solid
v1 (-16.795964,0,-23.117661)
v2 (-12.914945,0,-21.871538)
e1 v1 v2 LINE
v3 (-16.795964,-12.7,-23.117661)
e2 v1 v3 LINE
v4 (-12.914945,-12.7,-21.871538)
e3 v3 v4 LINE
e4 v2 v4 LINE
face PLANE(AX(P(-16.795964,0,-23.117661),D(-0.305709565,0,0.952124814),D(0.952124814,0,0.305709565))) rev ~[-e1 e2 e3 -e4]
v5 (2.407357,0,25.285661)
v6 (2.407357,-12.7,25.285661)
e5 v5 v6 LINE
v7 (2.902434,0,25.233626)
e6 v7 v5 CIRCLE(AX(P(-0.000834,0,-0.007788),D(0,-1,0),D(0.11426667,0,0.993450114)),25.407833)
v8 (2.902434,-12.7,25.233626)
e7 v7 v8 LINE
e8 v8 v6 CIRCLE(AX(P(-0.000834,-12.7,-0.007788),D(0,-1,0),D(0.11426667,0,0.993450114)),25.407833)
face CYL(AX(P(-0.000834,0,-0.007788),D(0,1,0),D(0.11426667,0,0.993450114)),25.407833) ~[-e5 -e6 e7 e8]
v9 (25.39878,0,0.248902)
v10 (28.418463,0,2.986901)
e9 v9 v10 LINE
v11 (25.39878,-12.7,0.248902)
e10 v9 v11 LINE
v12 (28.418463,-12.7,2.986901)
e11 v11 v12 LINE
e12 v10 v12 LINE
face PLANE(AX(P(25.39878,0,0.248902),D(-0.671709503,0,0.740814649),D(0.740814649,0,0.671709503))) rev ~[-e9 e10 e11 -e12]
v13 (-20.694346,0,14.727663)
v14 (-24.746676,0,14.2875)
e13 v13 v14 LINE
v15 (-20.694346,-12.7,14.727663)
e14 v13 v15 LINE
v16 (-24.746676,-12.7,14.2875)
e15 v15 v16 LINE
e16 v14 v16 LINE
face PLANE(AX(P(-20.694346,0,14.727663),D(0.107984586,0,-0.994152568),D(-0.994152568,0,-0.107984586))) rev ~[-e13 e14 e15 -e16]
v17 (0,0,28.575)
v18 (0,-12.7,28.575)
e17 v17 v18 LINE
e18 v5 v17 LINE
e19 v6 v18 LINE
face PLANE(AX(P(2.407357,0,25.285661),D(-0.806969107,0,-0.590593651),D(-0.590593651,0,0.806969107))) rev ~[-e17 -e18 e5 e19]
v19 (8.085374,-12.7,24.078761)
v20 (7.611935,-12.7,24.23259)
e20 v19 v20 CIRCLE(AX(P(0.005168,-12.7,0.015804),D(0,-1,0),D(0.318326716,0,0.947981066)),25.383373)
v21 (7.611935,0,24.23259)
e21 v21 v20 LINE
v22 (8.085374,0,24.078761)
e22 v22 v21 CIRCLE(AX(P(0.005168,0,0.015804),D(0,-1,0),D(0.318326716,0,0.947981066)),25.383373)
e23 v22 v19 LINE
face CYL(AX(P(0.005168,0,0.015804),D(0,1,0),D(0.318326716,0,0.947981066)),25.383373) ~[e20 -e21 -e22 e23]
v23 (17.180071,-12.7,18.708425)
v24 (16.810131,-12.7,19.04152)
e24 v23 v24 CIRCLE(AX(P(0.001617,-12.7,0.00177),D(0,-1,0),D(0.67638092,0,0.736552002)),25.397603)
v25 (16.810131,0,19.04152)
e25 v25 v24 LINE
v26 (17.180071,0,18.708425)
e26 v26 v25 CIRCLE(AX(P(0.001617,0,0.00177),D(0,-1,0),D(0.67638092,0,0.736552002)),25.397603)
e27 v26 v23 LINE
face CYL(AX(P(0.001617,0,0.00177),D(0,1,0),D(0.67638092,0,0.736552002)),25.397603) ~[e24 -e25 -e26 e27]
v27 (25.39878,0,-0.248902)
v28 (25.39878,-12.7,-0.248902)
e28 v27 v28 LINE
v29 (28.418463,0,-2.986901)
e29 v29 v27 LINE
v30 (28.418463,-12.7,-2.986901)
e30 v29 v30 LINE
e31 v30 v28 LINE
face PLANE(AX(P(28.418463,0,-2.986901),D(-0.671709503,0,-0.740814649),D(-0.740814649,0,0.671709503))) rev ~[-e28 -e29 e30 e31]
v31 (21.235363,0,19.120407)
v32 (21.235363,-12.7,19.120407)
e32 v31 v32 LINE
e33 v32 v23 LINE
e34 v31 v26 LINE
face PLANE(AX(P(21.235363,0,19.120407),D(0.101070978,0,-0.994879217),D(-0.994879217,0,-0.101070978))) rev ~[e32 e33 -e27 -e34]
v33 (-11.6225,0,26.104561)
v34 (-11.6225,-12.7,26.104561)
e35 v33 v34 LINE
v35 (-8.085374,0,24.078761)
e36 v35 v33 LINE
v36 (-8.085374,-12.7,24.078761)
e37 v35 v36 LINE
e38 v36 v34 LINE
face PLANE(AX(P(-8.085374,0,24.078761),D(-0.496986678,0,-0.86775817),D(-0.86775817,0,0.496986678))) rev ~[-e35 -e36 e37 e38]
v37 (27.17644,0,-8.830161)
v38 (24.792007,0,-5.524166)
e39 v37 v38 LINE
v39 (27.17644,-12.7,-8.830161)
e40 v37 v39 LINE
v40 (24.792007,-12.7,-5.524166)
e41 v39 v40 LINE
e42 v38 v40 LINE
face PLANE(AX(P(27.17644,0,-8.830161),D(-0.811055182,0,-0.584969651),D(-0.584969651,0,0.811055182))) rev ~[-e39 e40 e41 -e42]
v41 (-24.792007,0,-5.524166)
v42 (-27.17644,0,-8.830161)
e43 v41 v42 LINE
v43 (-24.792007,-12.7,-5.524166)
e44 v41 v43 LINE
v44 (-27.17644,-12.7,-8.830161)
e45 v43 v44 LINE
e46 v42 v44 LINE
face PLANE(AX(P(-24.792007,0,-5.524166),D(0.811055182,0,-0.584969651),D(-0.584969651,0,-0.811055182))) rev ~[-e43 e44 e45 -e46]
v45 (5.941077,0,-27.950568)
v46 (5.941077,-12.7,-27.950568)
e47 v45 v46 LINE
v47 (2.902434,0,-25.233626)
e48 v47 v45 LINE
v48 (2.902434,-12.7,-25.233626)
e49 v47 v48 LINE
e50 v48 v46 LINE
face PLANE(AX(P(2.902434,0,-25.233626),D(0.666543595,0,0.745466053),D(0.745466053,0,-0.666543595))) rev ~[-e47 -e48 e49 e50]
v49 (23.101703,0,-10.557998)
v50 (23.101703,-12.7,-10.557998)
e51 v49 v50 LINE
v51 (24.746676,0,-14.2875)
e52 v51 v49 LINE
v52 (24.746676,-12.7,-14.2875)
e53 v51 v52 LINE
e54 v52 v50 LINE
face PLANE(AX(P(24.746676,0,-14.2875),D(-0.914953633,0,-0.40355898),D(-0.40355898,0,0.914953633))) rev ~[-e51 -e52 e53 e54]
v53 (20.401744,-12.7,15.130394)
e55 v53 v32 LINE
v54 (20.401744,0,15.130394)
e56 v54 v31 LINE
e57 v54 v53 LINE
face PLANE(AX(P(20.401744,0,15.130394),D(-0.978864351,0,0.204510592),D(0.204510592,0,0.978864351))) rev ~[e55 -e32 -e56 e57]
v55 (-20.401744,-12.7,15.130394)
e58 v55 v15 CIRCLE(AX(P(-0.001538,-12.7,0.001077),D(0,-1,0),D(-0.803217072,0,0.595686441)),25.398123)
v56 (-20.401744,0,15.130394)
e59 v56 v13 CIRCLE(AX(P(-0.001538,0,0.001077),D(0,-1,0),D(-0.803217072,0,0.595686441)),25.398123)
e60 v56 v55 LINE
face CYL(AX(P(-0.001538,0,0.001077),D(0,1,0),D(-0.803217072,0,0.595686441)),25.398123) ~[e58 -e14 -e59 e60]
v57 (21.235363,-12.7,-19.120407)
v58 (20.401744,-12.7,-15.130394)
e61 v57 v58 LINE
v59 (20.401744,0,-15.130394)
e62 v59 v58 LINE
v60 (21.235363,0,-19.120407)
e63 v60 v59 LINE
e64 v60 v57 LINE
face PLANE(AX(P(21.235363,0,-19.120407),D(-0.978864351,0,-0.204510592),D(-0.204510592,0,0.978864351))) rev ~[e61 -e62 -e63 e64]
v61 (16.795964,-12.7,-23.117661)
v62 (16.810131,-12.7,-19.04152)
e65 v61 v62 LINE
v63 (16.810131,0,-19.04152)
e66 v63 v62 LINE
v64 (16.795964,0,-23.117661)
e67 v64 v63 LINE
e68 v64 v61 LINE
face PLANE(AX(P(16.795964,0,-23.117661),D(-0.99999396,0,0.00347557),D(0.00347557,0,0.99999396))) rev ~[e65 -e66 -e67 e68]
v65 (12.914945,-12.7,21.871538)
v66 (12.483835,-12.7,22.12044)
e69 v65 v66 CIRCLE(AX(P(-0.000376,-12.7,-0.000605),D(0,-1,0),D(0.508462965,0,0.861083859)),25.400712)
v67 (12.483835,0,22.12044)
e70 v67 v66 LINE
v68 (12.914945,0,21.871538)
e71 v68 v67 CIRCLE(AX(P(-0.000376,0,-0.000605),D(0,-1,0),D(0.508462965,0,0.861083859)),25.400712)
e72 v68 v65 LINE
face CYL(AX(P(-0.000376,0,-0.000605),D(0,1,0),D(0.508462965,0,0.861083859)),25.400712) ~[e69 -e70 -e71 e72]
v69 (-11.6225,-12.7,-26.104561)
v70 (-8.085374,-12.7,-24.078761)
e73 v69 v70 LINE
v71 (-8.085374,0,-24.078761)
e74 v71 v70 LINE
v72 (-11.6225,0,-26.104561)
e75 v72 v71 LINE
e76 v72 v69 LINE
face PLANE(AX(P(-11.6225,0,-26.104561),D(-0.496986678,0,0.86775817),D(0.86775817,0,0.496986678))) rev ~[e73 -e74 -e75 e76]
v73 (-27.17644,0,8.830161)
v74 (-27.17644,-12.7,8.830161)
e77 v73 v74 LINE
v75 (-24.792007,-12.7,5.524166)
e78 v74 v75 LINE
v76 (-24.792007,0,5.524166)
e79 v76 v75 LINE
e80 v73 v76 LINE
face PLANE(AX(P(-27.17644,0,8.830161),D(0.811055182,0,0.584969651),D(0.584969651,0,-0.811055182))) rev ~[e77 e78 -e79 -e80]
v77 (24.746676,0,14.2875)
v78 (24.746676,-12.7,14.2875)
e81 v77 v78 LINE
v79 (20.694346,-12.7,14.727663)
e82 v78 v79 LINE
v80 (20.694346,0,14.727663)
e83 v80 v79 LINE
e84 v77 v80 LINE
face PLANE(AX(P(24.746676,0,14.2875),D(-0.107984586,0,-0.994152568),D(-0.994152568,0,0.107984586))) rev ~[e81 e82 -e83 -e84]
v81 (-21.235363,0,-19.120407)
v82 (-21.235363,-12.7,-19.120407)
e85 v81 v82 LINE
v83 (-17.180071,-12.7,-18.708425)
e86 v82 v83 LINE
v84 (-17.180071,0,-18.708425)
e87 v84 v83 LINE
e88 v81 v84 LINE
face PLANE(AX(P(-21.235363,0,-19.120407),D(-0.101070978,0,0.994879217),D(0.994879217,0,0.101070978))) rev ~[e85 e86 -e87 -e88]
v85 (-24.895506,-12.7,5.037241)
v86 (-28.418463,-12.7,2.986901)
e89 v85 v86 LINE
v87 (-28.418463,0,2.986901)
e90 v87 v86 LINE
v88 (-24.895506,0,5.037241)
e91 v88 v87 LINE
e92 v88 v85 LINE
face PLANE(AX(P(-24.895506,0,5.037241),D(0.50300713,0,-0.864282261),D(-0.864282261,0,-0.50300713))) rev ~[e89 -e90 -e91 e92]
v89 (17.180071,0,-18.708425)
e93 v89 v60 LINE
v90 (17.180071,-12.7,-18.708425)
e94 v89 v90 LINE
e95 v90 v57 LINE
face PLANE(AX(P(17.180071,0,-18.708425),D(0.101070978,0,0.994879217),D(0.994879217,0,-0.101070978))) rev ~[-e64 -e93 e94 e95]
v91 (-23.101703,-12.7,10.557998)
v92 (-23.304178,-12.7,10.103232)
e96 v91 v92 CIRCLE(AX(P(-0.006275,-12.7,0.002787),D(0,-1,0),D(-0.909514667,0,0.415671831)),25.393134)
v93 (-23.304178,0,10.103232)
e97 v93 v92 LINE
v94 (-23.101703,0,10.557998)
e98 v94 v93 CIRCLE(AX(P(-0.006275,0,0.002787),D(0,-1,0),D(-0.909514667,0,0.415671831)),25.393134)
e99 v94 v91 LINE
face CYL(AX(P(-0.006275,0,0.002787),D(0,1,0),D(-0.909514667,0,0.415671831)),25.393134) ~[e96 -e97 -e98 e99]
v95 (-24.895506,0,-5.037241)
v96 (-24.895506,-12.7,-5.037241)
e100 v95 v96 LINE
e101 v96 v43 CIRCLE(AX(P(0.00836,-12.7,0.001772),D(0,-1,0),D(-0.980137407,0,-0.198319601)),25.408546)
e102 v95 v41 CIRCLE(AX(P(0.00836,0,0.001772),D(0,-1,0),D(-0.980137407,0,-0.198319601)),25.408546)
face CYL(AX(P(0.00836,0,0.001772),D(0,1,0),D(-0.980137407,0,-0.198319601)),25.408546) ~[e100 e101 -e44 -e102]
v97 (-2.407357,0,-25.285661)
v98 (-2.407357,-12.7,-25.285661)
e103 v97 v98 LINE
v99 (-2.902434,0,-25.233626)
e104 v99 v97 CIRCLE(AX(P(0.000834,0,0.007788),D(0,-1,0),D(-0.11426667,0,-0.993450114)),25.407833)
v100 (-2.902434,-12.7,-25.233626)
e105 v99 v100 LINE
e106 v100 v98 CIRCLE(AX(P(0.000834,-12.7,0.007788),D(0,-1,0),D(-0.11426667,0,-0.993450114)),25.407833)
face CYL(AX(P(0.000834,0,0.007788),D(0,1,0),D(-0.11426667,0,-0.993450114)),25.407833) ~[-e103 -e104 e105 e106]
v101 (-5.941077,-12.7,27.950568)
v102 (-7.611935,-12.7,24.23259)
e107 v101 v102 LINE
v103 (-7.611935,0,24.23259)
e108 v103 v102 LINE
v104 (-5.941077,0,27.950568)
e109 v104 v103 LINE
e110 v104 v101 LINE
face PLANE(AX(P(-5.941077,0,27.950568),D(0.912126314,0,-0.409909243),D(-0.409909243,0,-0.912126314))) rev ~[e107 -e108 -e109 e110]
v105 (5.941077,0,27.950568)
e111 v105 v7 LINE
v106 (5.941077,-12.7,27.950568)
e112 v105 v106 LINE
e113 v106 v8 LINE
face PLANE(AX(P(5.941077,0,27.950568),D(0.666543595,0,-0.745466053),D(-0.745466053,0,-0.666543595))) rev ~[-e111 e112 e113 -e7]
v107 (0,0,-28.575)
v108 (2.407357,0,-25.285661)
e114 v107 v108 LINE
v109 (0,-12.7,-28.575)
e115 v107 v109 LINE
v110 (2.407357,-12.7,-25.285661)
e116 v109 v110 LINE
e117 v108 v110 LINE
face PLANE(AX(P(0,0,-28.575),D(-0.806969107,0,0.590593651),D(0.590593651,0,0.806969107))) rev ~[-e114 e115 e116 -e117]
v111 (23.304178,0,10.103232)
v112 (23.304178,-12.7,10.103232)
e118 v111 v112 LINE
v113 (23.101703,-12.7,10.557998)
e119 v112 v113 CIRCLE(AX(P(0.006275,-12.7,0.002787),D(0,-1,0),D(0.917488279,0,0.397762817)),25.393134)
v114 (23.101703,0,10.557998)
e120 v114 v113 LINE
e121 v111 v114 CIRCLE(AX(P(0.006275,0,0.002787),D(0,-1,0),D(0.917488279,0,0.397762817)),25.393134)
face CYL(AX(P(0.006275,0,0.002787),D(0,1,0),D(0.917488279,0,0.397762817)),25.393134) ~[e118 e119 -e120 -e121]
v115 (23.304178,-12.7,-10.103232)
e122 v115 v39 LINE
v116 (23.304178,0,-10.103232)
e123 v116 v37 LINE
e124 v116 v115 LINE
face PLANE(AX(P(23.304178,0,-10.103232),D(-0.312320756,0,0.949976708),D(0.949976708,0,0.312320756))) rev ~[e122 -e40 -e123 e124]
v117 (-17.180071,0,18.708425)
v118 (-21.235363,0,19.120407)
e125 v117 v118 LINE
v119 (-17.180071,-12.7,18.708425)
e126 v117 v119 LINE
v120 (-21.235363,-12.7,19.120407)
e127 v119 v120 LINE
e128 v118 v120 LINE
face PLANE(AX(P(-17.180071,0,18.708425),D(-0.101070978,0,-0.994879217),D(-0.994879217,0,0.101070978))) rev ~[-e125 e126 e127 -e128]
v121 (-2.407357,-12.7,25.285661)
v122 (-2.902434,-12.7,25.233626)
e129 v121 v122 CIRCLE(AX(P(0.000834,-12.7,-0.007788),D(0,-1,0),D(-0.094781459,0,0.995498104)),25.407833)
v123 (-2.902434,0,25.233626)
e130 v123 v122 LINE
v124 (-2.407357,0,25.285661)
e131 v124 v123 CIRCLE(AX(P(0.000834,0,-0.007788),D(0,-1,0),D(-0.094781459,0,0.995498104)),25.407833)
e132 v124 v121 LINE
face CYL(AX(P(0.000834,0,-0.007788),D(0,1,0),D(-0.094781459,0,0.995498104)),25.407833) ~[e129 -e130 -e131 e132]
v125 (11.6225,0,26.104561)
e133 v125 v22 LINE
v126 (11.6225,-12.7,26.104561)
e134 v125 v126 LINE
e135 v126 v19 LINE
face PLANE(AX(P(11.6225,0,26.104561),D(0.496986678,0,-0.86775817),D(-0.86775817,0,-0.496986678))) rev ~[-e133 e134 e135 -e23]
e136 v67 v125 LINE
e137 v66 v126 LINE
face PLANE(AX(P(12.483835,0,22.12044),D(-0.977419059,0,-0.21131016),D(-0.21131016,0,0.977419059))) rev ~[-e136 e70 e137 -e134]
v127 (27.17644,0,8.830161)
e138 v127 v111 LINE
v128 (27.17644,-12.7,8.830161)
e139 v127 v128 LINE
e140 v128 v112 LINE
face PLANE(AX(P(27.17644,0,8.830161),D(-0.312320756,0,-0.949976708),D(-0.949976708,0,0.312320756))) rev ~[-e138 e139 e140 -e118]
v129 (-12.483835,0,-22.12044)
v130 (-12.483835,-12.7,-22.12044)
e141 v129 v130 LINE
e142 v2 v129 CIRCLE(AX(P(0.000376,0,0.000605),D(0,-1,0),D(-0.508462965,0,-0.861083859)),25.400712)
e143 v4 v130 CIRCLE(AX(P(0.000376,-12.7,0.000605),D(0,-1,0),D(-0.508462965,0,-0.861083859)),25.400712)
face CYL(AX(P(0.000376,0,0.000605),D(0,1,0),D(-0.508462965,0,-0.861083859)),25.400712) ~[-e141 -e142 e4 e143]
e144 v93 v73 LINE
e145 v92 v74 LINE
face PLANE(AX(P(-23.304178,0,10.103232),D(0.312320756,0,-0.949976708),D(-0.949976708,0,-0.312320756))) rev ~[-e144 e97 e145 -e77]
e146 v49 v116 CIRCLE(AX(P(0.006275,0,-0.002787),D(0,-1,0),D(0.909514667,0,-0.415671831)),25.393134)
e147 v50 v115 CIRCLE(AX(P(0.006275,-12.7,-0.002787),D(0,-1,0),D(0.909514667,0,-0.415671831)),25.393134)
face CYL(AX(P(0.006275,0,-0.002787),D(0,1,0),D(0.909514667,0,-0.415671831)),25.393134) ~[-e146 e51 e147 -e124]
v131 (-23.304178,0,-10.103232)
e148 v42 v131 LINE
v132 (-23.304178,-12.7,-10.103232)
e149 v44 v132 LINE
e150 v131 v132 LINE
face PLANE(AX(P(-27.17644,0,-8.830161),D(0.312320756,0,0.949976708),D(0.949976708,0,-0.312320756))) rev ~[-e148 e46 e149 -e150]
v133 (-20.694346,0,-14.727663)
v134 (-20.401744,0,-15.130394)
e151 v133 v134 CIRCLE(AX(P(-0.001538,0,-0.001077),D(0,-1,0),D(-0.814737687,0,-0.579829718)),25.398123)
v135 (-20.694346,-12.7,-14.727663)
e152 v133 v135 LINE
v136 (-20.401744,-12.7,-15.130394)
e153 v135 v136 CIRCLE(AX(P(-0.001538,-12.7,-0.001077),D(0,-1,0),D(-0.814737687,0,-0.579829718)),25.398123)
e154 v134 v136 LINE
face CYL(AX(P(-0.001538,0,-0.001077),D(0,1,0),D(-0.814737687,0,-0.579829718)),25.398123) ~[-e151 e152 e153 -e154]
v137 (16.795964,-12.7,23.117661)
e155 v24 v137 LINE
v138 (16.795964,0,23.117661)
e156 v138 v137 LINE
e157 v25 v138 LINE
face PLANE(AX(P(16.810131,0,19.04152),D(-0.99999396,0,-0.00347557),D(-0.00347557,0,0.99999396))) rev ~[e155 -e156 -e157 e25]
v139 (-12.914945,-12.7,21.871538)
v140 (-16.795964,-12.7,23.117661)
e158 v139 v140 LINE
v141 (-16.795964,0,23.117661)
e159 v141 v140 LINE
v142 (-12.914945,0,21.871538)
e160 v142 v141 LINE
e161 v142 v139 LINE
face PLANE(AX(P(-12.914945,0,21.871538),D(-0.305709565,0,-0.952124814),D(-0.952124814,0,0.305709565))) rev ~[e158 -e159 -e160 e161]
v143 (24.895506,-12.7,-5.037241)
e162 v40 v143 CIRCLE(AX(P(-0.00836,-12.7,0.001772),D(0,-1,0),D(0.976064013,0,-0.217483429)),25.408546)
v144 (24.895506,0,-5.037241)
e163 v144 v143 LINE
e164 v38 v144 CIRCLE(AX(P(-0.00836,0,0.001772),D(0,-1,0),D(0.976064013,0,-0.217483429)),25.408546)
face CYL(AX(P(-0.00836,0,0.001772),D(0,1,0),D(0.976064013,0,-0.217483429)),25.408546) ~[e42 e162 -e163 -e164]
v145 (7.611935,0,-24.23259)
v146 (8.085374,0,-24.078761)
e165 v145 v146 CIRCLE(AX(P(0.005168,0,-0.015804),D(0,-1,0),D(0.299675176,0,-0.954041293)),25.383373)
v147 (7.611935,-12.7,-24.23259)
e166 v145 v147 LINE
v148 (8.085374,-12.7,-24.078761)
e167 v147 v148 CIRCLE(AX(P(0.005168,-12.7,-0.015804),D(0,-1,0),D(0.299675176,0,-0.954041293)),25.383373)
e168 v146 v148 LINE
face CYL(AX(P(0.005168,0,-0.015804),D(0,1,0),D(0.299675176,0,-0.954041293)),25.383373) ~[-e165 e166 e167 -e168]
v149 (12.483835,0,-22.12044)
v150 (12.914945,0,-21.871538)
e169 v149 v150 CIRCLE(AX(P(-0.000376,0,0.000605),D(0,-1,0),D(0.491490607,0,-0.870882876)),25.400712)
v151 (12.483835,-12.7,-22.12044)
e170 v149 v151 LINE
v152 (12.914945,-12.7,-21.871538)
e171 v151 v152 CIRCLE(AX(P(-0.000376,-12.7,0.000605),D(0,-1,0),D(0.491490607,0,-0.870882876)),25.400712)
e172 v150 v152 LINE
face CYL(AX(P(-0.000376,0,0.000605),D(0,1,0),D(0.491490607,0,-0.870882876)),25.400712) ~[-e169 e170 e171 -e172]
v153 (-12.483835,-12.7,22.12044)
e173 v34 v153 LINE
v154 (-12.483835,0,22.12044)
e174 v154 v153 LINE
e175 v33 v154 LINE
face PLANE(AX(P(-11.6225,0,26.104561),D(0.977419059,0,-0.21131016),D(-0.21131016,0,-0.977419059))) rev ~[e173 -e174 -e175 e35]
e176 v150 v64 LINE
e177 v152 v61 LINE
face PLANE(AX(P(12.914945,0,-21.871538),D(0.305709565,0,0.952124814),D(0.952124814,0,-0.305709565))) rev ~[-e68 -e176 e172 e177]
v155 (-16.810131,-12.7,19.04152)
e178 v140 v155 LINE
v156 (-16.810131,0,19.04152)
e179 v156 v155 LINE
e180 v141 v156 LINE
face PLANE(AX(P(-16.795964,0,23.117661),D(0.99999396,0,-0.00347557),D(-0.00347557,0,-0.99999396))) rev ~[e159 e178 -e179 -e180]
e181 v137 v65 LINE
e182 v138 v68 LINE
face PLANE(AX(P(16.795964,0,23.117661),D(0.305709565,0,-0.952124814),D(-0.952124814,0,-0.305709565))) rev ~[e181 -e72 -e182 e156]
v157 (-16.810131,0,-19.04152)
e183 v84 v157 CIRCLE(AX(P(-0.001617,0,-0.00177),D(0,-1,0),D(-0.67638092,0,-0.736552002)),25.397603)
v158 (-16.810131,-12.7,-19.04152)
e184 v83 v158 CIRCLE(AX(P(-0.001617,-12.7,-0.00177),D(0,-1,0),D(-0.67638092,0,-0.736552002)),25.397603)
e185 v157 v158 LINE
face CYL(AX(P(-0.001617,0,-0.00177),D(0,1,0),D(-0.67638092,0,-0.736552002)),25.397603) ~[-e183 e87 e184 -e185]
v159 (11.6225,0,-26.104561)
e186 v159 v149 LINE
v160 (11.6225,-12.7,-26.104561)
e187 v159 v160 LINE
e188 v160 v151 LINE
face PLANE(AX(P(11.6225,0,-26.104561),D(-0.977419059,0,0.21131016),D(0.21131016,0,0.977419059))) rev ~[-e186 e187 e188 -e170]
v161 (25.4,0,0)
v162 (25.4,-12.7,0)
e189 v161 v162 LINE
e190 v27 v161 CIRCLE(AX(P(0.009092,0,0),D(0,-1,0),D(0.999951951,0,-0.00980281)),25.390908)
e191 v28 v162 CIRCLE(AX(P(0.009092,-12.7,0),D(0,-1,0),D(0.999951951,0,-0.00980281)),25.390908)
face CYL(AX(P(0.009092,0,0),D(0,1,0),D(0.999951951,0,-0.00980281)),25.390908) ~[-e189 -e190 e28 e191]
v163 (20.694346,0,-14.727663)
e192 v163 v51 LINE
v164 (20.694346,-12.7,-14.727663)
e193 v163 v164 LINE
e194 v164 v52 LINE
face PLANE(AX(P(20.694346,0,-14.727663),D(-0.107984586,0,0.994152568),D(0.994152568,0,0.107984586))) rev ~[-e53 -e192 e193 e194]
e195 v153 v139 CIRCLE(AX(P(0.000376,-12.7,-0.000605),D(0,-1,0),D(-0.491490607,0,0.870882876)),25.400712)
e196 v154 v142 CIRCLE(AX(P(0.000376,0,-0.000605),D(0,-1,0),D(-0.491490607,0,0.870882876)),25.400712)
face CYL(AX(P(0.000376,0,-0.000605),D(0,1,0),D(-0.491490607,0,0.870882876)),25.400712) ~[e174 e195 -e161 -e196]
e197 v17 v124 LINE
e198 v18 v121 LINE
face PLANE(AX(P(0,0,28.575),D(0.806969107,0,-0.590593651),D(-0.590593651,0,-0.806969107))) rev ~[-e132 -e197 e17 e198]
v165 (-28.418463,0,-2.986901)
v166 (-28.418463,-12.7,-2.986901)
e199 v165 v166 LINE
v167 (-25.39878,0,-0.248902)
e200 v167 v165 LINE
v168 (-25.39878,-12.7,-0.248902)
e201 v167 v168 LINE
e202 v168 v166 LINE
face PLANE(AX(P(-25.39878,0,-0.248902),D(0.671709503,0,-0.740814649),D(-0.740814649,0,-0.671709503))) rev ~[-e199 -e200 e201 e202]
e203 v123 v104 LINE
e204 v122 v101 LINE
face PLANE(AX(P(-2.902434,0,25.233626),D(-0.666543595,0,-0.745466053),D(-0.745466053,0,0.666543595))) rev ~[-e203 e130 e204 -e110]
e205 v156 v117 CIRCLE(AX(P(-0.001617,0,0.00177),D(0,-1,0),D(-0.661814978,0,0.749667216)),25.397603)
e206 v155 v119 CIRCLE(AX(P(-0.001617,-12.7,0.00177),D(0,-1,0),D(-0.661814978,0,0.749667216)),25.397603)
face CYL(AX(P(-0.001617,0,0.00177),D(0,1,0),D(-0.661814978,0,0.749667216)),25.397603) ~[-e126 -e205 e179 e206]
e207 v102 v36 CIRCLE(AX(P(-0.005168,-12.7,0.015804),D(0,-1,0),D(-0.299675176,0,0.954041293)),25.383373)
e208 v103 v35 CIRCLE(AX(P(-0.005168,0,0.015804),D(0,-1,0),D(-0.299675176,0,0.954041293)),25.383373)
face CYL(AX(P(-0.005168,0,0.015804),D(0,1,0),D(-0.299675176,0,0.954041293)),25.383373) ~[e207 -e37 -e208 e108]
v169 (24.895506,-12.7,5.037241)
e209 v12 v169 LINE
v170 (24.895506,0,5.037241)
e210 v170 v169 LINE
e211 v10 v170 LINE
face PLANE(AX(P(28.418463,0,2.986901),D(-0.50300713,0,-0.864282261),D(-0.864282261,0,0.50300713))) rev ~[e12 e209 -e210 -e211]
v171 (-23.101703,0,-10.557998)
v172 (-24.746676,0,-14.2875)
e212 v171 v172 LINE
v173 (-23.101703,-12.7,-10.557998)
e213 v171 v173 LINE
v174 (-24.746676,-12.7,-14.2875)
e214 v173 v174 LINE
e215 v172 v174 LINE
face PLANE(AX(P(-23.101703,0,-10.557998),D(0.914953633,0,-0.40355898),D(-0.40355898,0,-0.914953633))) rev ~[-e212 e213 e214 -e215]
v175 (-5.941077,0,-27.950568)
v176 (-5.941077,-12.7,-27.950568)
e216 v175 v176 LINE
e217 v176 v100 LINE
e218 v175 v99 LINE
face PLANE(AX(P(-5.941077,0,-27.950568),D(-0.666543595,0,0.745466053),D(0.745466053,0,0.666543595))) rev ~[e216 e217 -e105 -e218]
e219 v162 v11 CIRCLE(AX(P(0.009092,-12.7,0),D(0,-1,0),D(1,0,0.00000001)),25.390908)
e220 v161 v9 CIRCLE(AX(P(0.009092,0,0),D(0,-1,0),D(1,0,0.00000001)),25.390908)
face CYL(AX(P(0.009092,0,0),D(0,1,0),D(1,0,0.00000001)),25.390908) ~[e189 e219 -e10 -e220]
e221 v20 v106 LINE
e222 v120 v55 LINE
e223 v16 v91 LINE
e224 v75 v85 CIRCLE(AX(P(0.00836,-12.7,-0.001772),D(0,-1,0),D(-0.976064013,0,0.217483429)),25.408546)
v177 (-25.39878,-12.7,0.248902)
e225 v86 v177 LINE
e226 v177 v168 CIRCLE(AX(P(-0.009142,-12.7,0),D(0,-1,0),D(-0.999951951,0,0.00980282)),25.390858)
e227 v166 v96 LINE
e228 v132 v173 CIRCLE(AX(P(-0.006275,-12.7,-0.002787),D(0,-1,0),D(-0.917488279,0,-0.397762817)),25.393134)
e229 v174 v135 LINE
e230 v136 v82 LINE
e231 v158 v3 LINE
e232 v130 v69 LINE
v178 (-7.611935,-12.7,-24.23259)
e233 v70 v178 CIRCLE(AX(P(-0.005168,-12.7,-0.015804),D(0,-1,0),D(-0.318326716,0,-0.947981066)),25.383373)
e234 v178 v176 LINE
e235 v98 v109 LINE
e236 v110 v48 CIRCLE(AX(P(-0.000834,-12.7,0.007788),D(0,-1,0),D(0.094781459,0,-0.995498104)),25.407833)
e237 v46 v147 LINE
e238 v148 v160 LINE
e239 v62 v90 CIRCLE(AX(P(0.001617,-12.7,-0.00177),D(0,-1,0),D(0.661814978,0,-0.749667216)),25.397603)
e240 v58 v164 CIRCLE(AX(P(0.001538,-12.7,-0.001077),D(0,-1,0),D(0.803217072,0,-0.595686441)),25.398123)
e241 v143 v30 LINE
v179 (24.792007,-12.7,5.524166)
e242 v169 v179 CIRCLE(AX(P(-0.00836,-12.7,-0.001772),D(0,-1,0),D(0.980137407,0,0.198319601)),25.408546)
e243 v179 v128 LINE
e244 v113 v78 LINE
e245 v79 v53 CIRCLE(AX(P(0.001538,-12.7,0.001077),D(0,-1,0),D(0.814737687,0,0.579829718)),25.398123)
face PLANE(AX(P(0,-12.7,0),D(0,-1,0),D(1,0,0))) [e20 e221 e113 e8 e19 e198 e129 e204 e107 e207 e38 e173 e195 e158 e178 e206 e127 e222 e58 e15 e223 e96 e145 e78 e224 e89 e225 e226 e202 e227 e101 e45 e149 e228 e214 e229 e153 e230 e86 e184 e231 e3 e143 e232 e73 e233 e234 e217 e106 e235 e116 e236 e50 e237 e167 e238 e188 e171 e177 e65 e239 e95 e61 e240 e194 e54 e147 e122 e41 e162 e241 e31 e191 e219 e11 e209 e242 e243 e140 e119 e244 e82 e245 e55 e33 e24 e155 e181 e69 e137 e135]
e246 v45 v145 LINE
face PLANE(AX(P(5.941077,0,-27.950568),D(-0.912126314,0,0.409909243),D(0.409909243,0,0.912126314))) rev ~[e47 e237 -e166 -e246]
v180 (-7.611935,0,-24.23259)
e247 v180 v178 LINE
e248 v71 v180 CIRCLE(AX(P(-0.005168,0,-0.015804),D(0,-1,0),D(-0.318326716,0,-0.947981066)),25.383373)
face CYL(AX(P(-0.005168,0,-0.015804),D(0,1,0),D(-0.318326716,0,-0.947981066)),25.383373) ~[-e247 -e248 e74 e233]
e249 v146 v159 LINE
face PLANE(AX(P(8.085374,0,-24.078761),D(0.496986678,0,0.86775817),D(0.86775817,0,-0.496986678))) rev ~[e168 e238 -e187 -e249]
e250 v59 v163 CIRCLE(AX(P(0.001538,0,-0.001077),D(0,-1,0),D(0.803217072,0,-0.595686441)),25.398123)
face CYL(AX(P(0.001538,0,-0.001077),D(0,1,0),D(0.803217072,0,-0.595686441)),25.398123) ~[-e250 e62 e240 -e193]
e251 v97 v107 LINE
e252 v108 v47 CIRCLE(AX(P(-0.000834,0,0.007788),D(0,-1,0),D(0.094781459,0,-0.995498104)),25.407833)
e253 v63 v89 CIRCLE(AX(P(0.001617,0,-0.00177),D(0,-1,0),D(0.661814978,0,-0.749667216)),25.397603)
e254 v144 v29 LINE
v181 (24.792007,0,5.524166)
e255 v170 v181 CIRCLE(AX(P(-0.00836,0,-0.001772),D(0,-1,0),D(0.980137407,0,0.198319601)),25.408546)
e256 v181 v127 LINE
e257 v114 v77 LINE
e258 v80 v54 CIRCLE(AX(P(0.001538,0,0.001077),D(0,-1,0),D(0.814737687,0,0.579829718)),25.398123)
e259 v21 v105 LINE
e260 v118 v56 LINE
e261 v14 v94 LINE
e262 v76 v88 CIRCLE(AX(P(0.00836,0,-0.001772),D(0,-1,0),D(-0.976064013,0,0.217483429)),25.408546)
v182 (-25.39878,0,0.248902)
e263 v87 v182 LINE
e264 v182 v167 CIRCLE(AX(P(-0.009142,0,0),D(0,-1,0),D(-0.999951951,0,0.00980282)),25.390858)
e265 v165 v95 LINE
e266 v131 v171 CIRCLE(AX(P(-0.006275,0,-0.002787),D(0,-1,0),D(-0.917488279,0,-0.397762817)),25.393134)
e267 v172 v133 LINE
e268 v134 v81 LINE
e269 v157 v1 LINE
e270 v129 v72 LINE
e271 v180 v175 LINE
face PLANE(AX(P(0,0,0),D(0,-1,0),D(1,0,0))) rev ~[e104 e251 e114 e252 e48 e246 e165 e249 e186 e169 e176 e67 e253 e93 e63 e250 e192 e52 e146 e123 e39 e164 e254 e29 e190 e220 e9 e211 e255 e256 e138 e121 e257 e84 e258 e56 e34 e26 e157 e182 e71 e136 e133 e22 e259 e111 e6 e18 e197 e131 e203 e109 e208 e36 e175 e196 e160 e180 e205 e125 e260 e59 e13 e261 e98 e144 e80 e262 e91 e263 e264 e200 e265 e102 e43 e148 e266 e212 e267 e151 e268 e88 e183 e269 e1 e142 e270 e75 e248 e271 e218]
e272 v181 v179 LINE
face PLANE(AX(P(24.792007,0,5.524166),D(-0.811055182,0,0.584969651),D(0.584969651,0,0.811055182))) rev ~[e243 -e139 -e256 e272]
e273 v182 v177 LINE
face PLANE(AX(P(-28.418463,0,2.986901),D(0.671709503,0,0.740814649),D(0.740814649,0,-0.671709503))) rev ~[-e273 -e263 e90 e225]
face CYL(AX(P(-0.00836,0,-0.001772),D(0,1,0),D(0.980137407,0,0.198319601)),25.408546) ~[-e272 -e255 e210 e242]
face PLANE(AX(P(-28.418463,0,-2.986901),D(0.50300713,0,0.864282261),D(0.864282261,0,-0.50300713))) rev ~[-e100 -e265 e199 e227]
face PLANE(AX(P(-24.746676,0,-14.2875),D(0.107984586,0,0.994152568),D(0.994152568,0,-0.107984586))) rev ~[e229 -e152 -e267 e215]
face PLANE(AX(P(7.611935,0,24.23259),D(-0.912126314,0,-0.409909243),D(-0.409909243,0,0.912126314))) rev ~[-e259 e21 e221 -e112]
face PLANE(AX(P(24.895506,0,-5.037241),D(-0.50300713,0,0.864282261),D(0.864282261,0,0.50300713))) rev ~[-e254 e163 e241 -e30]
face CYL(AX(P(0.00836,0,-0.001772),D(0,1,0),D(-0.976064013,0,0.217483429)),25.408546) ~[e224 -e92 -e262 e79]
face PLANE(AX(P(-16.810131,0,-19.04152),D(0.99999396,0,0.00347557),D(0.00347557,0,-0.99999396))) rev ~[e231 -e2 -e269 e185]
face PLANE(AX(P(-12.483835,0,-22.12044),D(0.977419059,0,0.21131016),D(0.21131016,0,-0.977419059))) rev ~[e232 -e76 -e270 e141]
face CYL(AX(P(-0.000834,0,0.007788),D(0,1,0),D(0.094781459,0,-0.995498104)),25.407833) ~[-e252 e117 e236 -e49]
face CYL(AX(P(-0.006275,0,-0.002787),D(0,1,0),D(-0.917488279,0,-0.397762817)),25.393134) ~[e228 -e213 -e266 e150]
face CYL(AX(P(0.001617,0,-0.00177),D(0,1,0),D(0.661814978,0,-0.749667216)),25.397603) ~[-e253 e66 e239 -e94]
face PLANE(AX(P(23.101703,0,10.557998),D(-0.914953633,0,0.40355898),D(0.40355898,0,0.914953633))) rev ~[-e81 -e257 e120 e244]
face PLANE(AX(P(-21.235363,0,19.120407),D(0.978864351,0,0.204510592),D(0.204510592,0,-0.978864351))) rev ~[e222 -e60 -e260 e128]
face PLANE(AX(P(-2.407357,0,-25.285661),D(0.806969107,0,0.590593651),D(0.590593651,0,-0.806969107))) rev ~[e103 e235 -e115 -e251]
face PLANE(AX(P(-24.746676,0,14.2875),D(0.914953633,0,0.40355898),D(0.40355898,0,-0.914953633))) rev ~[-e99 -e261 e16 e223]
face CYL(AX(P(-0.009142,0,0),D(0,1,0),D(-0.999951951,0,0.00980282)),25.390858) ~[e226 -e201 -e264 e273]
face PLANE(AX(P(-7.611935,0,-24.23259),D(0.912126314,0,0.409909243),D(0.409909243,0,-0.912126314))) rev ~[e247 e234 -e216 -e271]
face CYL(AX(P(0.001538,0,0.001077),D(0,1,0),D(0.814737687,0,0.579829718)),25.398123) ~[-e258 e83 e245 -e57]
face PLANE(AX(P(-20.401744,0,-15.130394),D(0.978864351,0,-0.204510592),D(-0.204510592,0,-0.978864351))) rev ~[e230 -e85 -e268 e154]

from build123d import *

# Parameters (mm, degrees)
F1_DEPTH = 12.7


with BuildPart() as f1:
    # F0 (on Front) → F1 (new body)
    with BuildSketch(Plane.XZ):
        with BuildLine():
            ThreePointArc((25.39878, -0.248902), (25.399695, -0.124452), (25.4, 0))
            ThreePointArc((25.4, 0), (25.399695, 0.124452), (25.39878, 0.248902))
            ThreePointArc((25.39878, 0.248902), (25.260856, 2.655023), (24.895506, 5.037241))
            ThreePointArc((24.895506, 5.037241), (24.844949, 5.280957), (24.792007, 5.524166))
            ThreePointArc((24.792007, 5.524166), (24.156836, 7.849032), (23.304178, 10.103232))
            ThreePointArc((23.304178, 10.103232), (23.204055, 10.331111), (23.101703, 10.557998))
            ThreePointArc((23.101703, 10.557998), (21.997045, 12.7), (20.694346, 14.727663))
            ThreePointArc((20.694346, 14.727663), (20.549032, 14.929745), (20.401744, 15.130394))
            ThreePointArc((20.401744, 15.130394), (18.875879, 16.995917), (17.180071, 18.708425))
            ThreePointArc((17.180071, 18.708425), (16.995917, 18.875879), (16.810131, 19.04152))
            ThreePointArc((16.810131, 19.04152), (14.929745, 20.549032), (12.914945, 21.871538))
            ThreePointArc((12.914945, 21.871538), (12.7, 21.997045), (12.483835, 22.12044))
            ThreePointArc((12.483835, 22.12044), (10.331111, 23.204055), (8.085374, 24.078761))
            ThreePointArc((8.085374, 24.078761), (7.849032, 24.156836), (7.611935, 24.23259))
            ThreePointArc((7.611935, 24.23259), (5.280957, 24.844949), (2.902434, 25.233626))
            ThreePointArc((2.902434, 25.233626), (2.655023, 25.260856), (2.407357, 25.285661))
            ThreePointArc((2.407357, 25.285661), (0, 25.4), (-2.407357, 25.285661))
            ThreePointArc((-2.407357, 25.285661), (-2.655023, 25.260856), (-2.902434, 25.233626))
            ThreePointArc((-2.902434, 25.233626), (-5.280957, 24.844949), (-7.611935, 24.23259))
            ThreePointArc((-7.611935, 24.23259), (-7.849032, 24.156836), (-8.085374, 24.078761))
            ThreePointArc((-8.085374, 24.078761), (-10.331111, 23.204055), (-12.483835, 22.12044))
            ThreePointArc((-12.483835, 22.12044), (-12.7, 21.997045), (-12.914945, 21.871538))
            ThreePointArc((-12.914945, 21.871538), (-14.929745, 20.549032), (-16.810131, 19.04152))
            ThreePointArc((-16.810131, 19.04152), (-16.995917, 18.875879), (-17.180071, 18.708425))
            ThreePointArc((-17.180071, 18.708425), (-18.875879, 16.995917), (-20.401744, 15.130394))
            ThreePointArc((-20.401744, 15.130394), (-20.549032, 14.929745), (-20.694346, 14.727663))
            ThreePointArc((-20.694346, 14.727663), (-21.997045, 12.7), (-23.101703, 10.557998))
            ThreePointArc((-23.101703, 10.557998), (-23.204055, 10.331111), (-23.304178, 10.103232))
            ThreePointArc((-23.304178, 10.103232), (-24.156836, 7.849032), (-24.792007, 5.524166))
            ThreePointArc((-24.792007, 5.524166), (-24.844949, 5.280957), (-24.895506, 5.037241))
            ThreePointArc((-24.895506, 5.037241), (-25.260856, 2.655023), (-25.39878, 0.248902))
            ThreePointArc((-25.39878, 0.248902), (-25.4, 0), (-25.39878, -0.248902))
            ThreePointArc((-25.39878, -0.248902), (-25.260856, -2.655023), (-24.895506, -5.037241))
            ThreePointArc((-24.895506, -5.037241), (-24.844949, -5.280957), (-24.792007, -5.524166))
            ThreePointArc((-24.792007, -5.524166), (-24.156836, -7.849032), (-23.304178, -10.103232))
            ThreePointArc((-23.304178, -10.103232), (-23.204055, -10.331111), (-23.101703, -10.557998))
            ThreePointArc((-23.101703, -10.557998), (-21.997045, -12.7), (-20.694346, -14.727663))
            ThreePointArc((-20.694346, -14.727663), (-20.549032, -14.929745), (-20.401744, -15.130394))
            ThreePointArc((-20.401744, -15.130394), (-18.875879, -16.995917), (-17.180071, -18.708425))
            ThreePointArc((-17.180071, -18.708425), (-16.995917, -18.875879), (-16.810131, -19.04152))
            ThreePointArc((-16.810131, -19.04152), (-14.929745, -20.549032), (-12.914945, -21.871538))
            ThreePointArc((-12.914945, -21.871538), (-12.7, -21.997045), (-12.483835, -22.12044))
            ThreePointArc((-12.483835, -22.12044), (-10.331111, -23.204055), (-8.085374, -24.078761))
            ThreePointArc((-8.085374, -24.078761), (-7.849032, -24.156836), (-7.611935, -24.23259))
            ThreePointArc((-7.611935, -24.23259), (-5.280957, -24.844949), (-2.902434, -25.233626))
            ThreePointArc((-2.902434, -25.233626), (-2.655023, -25.260856), (-2.407357, -25.285661))
            ThreePointArc((-2.407357, -25.285661), (0, -25.4), (2.407357, -25.285661))
            ThreePointArc((2.407357, -25.285661), (2.655023, -25.260856), (2.902434, -25.233626))
            ThreePointArc((2.902434, -25.233626), (5.280957, -24.844949), (7.611935, -24.23259))
            ThreePointArc((7.611935, -24.23259), (7.849032, -24.156836), (8.085374, -24.078761))
            ThreePointArc((8.085374, -24.078761), (10.331111, -23.204055), (12.483835, -22.12044))
            ThreePointArc((12.483835, -22.12044), (12.7, -21.997045), (12.914945, -21.871538))
            ThreePointArc((12.914945, -21.871538), (14.929745, -20.549032), (16.810131, -19.04152))
            ThreePointArc((16.810131, -19.04152), (16.995917, -18.875879), (17.180071, -18.708425))
            ThreePointArc((17.180071, -18.708425), (18.875879, -16.995917), (20.401744, -15.130394))
            ThreePointArc((20.401744, -15.130394), (20.549032, -14.929745), (20.694346, -14.727663))
            ThreePointArc((20.694346, -14.727663), (21.997045, -12.7), (23.101703, -10.557998))
            ThreePointArc((23.101703, -10.557998), (23.204055, -10.331111), (23.304178, -10.103232))
            ThreePointArc((23.304178, -10.103232), (24.156836, -7.849032), (24.792007, -5.524166))
            ThreePointArc((24.792007, -5.524166), (24.844949, -5.280957), (24.895506, -5.037241))
            ThreePointArc((24.895506, -5.037241), (25.260856, -2.655023), (25.39878, -0.248902))
        make_face()
        with BuildLine():
            Line((-28.418463, -2.986901), (-24.895506, -5.037241))
            ThreePointArc((-24.895506, -5.037241), (-25.260856, -2.655023), (-25.39878, -0.248902))
            Line((-25.39878, -0.248902), (-28.418463, -2.986901))
        make_face()
        with BuildLine():
            ThreePointArc((-25.39878, 0.248902), (-25.260856, 2.655023), (-24.895506, 5.037241))
            Line((-24.895506, 5.037241), (-28.418463, 2.986901))
            Line((-28.418463, 2.986901), (-25.39878, 0.248902))
        make_face()
        with BuildLine():
            ThreePointArc((-24.792007, 5.524166), (-24.156836, 7.849032), (-23.304178, 10.103232))
            Line((-23.304178, 10.103232), (-27.17644, 8.830161))
            Line((-27.17644, 8.830161), (-24.792007, 5.524166))
        make_face()
        with BuildLine():
            ThreePointArc((-23.101703, 10.557998), (-21.997045, 12.7), (-20.694346, 14.727663))
            Line((-20.694346, 14.727663), (-24.746676, 14.2875))
            Line((-24.746676, 14.2875), (-23.101703, 10.557998))
        make_face()
        with BuildLine():
            ThreePointArc((-20.401744, 15.130394), (-18.875879, 16.995917), (-17.180071, 18.708425))
            Line((-17.180071, 18.708425), (-21.235363, 19.120407))
            Line((-21.235363, 19.120407), (-20.401744, 15.130394))
        make_face()
        with BuildLine():
            ThreePointArc((-16.810131, 19.04152), (-14.929745, 20.549032), (-12.914945, 21.871538))
            Line((-12.914945, 21.871538), (-16.795964, 23.117661))
            Line((-16.795964, 23.117661), (-16.810131, 19.04152))
        make_face()
        with BuildLine():
            ThreePointArc((-12.483835, 22.12044), (-10.331111, 23.204055), (-8.085374, 24.078761))
            Line((-8.085374, 24.078761), (-11.6225, 26.104561))
            Line((-11.6225, 26.104561), (-12.483835, 22.12044))
        make_face()
        with BuildLine():
            ThreePointArc((-7.611935, 24.23259), (-5.280957, 24.844949), (-2.902434, 25.233626))
            Line((-2.902434, 25.233626), (-5.941077, 27.950568))
            Line((-5.941077, 27.950568), (-7.611935, 24.23259))
        make_face()
        with BuildLine():
            ThreePointArc((-2.407357, 25.285661), (0, 25.4), (2.407357, 25.285661))
            Line((2.407357, 25.285661), (0, 28.575))
            Line((0, 28.575), (-2.407357, 25.285661))
        make_face()
        with BuildLine():
            ThreePointArc((2.902434, 25.233626), (5.280957, 24.844949), (7.611935, 24.23259))
            Line((7.611935, 24.23259), (5.941077, 27.950568))
            Line((5.941077, 27.950568), (2.902434, 25.233626))
        make_face()
        with BuildLine():
            ThreePointArc((12.914945, 21.871538), (14.929745, 20.549032), (16.810131, 19.04152))
            Line((16.810131, 19.04152), (16.795964, 23.117661))
            Line((16.795964, 23.117661), (12.914945, 21.871538))
        make_face()
        with BuildLine():
            ThreePointArc((17.180071, 18.708425), (18.875879, 16.995917), (20.401744, 15.130394))
            Line((20.401744, 15.130394), (21.235363, 19.120407))
            Line((21.235363, 19.120407), (17.180071, 18.708425))
        make_face()
        with BuildLine():
            ThreePointArc((20.694346, 14.727663), (21.997045, 12.7), (23.101703, 10.557998))
            Line((23.101703, 10.557998), (24.746676, 14.2875))
            Line((24.746676, 14.2875), (20.694346, 14.727663))
        make_face()
        with BuildLine():
            ThreePointArc((23.304178, 10.103232), (24.156836, 7.849032), (24.792007, 5.524166))
            Line((24.792007, 5.524166), (27.17644, 8.830161))
            Line((27.17644, 8.830161), (23.304178, 10.103232))
        make_face()
        with BuildLine():
            ThreePointArc((8.085374, 24.078761), (10.331111, 23.204055), (12.483835, 22.12044))
            Line((12.483835, 22.12044), (11.6225, 26.104561))
            Line((11.6225, 26.104561), (8.085374, 24.078761))
        make_face()
        with BuildLine():
            ThreePointArc((24.895506, 5.037241), (25.260856, 2.655023), (25.39878, 0.248902))
            Line((25.39878, 0.248902), (28.418463, 2.986901))
            Line((28.418463, 2.986901), (24.895506, 5.037241))
        make_face()
        with BuildLine():
            Line((28.418463, -2.986901), (25.39878, -0.248902))
            ThreePointArc((25.39878, -0.248902), (25.260856, -2.655023), (24.895506, -5.037241))
            Line((24.895506, -5.037241), (28.418463, -2.986901))
        make_face()
        with BuildLine():
            Line((27.17644, -8.830161), (24.792007, -5.524166))
            ThreePointArc((24.792007, -5.524166), (24.156836, -7.849032), (23.304178, -10.103232))
            Line((23.304178, -10.103232), (27.17644, -8.830161))
        make_face()
        with BuildLine():
            Line((24.746676, -14.2875), (23.101703, -10.557998))
            ThreePointArc((23.101703, -10.557998), (21.997045, -12.7), (20.694346, -14.727663))
            Line((20.694346, -14.727663), (24.746676, -14.2875))
        make_face()
        with BuildLine():
            Line((21.235363, -19.120407), (20.401744, -15.130394))
            ThreePointArc((20.401744, -15.130394), (18.875879, -16.995917), (17.180071, -18.708425))
            Line((17.180071, -18.708425), (21.235363, -19.120407))
        make_face()
        with BuildLine():
            Line((11.6225, -26.104561), (12.483835, -22.12044))
            ThreePointArc((12.483835, -22.12044), (10.331111, -23.204055), (8.085374, -24.078761))
            Line((8.085374, -24.078761), (11.6225, -26.104561))
        make_face()
        with BuildLine():
            Line((5.941077, -27.950568), (7.611935, -24.23259))
            ThreePointArc((7.611935, -24.23259), (5.280957, -24.844949), (2.902434, -25.233626))
            Line((2.902434, -25.233626), (5.941077, -27.950568))
        make_face()
        with BuildLine():
            Line((0, -28.575), (2.407357, -25.285661))
            ThreePointArc((2.407357, -25.285661), (0, -25.4), (-2.407357, -25.285661))
            Line((-2.407357, -25.285661), (0, -28.575))
        make_face()
        with BuildLine():
            Line((-5.941077, -27.950568), (-2.902434, -25.233626))
            ThreePointArc((-2.902434, -25.233626), (-5.280957, -24.844949), (-7.611935, -24.23259))
            Line((-7.611935, -24.23259), (-5.941077, -27.950568))
        make_face()
        with BuildLine():
            Line((-11.6225, -26.104561), (-8.085374, -24.078761))
            ThreePointArc((-8.085374, -24.078761), (-10.331111, -23.204055), (-12.483835, -22.12044))
            Line((-12.483835, -22.12044), (-11.6225, -26.104561))
        make_face()
        with BuildLine():
            Line((-16.795964, -23.117661), (-12.914945, -21.871538))
            ThreePointArc((-12.914945, -21.871538), (-14.929745, -20.549032), (-16.810131, -19.04152))
            Line((-16.810131, -19.04152), (-16.795964, -23.117661))
        make_face()
        with BuildLine():
            Line((-21.235363, -19.120407), (-17.180071, -18.708425))
            ThreePointArc((-17.180071, -18.708425), (-18.875879, -16.995917), (-20.401744, -15.130394))
            Line((-20.401744, -15.130394), (-21.235363, -19.120407))
        make_face()
        with BuildLine():
            Line((-24.746676, -14.2875), (-20.694346, -14.727663))
            ThreePointArc((-20.694346, -14.727663), (-21.997045, -12.7), (-23.101703, -10.557998))
            Line((-23.101703, -10.557998), (-24.746676, -14.2875))
        make_face()
        with BuildLine():
            Line((-27.17644, -8.830161), (-23.304178, -10.103232))
            ThreePointArc((-23.304178, -10.103232), (-24.156836, -7.849032), (-24.792007, -5.524166))
            Line((-24.792007, -5.524166), (-27.17644, -8.830161))
        make_face()
        with BuildLine():
            Line((16.795964, -23.117661), (16.810131, -19.04152))
            ThreePointArc((16.810131, -19.04152), (14.929745, -20.549032), (12.914945, -21.871538))
            Line((12.914945, -21.871538), (16.795964, -23.117661))
        make_face()
    extrude(amount=F1_DEPTH)


solid = f1.part
